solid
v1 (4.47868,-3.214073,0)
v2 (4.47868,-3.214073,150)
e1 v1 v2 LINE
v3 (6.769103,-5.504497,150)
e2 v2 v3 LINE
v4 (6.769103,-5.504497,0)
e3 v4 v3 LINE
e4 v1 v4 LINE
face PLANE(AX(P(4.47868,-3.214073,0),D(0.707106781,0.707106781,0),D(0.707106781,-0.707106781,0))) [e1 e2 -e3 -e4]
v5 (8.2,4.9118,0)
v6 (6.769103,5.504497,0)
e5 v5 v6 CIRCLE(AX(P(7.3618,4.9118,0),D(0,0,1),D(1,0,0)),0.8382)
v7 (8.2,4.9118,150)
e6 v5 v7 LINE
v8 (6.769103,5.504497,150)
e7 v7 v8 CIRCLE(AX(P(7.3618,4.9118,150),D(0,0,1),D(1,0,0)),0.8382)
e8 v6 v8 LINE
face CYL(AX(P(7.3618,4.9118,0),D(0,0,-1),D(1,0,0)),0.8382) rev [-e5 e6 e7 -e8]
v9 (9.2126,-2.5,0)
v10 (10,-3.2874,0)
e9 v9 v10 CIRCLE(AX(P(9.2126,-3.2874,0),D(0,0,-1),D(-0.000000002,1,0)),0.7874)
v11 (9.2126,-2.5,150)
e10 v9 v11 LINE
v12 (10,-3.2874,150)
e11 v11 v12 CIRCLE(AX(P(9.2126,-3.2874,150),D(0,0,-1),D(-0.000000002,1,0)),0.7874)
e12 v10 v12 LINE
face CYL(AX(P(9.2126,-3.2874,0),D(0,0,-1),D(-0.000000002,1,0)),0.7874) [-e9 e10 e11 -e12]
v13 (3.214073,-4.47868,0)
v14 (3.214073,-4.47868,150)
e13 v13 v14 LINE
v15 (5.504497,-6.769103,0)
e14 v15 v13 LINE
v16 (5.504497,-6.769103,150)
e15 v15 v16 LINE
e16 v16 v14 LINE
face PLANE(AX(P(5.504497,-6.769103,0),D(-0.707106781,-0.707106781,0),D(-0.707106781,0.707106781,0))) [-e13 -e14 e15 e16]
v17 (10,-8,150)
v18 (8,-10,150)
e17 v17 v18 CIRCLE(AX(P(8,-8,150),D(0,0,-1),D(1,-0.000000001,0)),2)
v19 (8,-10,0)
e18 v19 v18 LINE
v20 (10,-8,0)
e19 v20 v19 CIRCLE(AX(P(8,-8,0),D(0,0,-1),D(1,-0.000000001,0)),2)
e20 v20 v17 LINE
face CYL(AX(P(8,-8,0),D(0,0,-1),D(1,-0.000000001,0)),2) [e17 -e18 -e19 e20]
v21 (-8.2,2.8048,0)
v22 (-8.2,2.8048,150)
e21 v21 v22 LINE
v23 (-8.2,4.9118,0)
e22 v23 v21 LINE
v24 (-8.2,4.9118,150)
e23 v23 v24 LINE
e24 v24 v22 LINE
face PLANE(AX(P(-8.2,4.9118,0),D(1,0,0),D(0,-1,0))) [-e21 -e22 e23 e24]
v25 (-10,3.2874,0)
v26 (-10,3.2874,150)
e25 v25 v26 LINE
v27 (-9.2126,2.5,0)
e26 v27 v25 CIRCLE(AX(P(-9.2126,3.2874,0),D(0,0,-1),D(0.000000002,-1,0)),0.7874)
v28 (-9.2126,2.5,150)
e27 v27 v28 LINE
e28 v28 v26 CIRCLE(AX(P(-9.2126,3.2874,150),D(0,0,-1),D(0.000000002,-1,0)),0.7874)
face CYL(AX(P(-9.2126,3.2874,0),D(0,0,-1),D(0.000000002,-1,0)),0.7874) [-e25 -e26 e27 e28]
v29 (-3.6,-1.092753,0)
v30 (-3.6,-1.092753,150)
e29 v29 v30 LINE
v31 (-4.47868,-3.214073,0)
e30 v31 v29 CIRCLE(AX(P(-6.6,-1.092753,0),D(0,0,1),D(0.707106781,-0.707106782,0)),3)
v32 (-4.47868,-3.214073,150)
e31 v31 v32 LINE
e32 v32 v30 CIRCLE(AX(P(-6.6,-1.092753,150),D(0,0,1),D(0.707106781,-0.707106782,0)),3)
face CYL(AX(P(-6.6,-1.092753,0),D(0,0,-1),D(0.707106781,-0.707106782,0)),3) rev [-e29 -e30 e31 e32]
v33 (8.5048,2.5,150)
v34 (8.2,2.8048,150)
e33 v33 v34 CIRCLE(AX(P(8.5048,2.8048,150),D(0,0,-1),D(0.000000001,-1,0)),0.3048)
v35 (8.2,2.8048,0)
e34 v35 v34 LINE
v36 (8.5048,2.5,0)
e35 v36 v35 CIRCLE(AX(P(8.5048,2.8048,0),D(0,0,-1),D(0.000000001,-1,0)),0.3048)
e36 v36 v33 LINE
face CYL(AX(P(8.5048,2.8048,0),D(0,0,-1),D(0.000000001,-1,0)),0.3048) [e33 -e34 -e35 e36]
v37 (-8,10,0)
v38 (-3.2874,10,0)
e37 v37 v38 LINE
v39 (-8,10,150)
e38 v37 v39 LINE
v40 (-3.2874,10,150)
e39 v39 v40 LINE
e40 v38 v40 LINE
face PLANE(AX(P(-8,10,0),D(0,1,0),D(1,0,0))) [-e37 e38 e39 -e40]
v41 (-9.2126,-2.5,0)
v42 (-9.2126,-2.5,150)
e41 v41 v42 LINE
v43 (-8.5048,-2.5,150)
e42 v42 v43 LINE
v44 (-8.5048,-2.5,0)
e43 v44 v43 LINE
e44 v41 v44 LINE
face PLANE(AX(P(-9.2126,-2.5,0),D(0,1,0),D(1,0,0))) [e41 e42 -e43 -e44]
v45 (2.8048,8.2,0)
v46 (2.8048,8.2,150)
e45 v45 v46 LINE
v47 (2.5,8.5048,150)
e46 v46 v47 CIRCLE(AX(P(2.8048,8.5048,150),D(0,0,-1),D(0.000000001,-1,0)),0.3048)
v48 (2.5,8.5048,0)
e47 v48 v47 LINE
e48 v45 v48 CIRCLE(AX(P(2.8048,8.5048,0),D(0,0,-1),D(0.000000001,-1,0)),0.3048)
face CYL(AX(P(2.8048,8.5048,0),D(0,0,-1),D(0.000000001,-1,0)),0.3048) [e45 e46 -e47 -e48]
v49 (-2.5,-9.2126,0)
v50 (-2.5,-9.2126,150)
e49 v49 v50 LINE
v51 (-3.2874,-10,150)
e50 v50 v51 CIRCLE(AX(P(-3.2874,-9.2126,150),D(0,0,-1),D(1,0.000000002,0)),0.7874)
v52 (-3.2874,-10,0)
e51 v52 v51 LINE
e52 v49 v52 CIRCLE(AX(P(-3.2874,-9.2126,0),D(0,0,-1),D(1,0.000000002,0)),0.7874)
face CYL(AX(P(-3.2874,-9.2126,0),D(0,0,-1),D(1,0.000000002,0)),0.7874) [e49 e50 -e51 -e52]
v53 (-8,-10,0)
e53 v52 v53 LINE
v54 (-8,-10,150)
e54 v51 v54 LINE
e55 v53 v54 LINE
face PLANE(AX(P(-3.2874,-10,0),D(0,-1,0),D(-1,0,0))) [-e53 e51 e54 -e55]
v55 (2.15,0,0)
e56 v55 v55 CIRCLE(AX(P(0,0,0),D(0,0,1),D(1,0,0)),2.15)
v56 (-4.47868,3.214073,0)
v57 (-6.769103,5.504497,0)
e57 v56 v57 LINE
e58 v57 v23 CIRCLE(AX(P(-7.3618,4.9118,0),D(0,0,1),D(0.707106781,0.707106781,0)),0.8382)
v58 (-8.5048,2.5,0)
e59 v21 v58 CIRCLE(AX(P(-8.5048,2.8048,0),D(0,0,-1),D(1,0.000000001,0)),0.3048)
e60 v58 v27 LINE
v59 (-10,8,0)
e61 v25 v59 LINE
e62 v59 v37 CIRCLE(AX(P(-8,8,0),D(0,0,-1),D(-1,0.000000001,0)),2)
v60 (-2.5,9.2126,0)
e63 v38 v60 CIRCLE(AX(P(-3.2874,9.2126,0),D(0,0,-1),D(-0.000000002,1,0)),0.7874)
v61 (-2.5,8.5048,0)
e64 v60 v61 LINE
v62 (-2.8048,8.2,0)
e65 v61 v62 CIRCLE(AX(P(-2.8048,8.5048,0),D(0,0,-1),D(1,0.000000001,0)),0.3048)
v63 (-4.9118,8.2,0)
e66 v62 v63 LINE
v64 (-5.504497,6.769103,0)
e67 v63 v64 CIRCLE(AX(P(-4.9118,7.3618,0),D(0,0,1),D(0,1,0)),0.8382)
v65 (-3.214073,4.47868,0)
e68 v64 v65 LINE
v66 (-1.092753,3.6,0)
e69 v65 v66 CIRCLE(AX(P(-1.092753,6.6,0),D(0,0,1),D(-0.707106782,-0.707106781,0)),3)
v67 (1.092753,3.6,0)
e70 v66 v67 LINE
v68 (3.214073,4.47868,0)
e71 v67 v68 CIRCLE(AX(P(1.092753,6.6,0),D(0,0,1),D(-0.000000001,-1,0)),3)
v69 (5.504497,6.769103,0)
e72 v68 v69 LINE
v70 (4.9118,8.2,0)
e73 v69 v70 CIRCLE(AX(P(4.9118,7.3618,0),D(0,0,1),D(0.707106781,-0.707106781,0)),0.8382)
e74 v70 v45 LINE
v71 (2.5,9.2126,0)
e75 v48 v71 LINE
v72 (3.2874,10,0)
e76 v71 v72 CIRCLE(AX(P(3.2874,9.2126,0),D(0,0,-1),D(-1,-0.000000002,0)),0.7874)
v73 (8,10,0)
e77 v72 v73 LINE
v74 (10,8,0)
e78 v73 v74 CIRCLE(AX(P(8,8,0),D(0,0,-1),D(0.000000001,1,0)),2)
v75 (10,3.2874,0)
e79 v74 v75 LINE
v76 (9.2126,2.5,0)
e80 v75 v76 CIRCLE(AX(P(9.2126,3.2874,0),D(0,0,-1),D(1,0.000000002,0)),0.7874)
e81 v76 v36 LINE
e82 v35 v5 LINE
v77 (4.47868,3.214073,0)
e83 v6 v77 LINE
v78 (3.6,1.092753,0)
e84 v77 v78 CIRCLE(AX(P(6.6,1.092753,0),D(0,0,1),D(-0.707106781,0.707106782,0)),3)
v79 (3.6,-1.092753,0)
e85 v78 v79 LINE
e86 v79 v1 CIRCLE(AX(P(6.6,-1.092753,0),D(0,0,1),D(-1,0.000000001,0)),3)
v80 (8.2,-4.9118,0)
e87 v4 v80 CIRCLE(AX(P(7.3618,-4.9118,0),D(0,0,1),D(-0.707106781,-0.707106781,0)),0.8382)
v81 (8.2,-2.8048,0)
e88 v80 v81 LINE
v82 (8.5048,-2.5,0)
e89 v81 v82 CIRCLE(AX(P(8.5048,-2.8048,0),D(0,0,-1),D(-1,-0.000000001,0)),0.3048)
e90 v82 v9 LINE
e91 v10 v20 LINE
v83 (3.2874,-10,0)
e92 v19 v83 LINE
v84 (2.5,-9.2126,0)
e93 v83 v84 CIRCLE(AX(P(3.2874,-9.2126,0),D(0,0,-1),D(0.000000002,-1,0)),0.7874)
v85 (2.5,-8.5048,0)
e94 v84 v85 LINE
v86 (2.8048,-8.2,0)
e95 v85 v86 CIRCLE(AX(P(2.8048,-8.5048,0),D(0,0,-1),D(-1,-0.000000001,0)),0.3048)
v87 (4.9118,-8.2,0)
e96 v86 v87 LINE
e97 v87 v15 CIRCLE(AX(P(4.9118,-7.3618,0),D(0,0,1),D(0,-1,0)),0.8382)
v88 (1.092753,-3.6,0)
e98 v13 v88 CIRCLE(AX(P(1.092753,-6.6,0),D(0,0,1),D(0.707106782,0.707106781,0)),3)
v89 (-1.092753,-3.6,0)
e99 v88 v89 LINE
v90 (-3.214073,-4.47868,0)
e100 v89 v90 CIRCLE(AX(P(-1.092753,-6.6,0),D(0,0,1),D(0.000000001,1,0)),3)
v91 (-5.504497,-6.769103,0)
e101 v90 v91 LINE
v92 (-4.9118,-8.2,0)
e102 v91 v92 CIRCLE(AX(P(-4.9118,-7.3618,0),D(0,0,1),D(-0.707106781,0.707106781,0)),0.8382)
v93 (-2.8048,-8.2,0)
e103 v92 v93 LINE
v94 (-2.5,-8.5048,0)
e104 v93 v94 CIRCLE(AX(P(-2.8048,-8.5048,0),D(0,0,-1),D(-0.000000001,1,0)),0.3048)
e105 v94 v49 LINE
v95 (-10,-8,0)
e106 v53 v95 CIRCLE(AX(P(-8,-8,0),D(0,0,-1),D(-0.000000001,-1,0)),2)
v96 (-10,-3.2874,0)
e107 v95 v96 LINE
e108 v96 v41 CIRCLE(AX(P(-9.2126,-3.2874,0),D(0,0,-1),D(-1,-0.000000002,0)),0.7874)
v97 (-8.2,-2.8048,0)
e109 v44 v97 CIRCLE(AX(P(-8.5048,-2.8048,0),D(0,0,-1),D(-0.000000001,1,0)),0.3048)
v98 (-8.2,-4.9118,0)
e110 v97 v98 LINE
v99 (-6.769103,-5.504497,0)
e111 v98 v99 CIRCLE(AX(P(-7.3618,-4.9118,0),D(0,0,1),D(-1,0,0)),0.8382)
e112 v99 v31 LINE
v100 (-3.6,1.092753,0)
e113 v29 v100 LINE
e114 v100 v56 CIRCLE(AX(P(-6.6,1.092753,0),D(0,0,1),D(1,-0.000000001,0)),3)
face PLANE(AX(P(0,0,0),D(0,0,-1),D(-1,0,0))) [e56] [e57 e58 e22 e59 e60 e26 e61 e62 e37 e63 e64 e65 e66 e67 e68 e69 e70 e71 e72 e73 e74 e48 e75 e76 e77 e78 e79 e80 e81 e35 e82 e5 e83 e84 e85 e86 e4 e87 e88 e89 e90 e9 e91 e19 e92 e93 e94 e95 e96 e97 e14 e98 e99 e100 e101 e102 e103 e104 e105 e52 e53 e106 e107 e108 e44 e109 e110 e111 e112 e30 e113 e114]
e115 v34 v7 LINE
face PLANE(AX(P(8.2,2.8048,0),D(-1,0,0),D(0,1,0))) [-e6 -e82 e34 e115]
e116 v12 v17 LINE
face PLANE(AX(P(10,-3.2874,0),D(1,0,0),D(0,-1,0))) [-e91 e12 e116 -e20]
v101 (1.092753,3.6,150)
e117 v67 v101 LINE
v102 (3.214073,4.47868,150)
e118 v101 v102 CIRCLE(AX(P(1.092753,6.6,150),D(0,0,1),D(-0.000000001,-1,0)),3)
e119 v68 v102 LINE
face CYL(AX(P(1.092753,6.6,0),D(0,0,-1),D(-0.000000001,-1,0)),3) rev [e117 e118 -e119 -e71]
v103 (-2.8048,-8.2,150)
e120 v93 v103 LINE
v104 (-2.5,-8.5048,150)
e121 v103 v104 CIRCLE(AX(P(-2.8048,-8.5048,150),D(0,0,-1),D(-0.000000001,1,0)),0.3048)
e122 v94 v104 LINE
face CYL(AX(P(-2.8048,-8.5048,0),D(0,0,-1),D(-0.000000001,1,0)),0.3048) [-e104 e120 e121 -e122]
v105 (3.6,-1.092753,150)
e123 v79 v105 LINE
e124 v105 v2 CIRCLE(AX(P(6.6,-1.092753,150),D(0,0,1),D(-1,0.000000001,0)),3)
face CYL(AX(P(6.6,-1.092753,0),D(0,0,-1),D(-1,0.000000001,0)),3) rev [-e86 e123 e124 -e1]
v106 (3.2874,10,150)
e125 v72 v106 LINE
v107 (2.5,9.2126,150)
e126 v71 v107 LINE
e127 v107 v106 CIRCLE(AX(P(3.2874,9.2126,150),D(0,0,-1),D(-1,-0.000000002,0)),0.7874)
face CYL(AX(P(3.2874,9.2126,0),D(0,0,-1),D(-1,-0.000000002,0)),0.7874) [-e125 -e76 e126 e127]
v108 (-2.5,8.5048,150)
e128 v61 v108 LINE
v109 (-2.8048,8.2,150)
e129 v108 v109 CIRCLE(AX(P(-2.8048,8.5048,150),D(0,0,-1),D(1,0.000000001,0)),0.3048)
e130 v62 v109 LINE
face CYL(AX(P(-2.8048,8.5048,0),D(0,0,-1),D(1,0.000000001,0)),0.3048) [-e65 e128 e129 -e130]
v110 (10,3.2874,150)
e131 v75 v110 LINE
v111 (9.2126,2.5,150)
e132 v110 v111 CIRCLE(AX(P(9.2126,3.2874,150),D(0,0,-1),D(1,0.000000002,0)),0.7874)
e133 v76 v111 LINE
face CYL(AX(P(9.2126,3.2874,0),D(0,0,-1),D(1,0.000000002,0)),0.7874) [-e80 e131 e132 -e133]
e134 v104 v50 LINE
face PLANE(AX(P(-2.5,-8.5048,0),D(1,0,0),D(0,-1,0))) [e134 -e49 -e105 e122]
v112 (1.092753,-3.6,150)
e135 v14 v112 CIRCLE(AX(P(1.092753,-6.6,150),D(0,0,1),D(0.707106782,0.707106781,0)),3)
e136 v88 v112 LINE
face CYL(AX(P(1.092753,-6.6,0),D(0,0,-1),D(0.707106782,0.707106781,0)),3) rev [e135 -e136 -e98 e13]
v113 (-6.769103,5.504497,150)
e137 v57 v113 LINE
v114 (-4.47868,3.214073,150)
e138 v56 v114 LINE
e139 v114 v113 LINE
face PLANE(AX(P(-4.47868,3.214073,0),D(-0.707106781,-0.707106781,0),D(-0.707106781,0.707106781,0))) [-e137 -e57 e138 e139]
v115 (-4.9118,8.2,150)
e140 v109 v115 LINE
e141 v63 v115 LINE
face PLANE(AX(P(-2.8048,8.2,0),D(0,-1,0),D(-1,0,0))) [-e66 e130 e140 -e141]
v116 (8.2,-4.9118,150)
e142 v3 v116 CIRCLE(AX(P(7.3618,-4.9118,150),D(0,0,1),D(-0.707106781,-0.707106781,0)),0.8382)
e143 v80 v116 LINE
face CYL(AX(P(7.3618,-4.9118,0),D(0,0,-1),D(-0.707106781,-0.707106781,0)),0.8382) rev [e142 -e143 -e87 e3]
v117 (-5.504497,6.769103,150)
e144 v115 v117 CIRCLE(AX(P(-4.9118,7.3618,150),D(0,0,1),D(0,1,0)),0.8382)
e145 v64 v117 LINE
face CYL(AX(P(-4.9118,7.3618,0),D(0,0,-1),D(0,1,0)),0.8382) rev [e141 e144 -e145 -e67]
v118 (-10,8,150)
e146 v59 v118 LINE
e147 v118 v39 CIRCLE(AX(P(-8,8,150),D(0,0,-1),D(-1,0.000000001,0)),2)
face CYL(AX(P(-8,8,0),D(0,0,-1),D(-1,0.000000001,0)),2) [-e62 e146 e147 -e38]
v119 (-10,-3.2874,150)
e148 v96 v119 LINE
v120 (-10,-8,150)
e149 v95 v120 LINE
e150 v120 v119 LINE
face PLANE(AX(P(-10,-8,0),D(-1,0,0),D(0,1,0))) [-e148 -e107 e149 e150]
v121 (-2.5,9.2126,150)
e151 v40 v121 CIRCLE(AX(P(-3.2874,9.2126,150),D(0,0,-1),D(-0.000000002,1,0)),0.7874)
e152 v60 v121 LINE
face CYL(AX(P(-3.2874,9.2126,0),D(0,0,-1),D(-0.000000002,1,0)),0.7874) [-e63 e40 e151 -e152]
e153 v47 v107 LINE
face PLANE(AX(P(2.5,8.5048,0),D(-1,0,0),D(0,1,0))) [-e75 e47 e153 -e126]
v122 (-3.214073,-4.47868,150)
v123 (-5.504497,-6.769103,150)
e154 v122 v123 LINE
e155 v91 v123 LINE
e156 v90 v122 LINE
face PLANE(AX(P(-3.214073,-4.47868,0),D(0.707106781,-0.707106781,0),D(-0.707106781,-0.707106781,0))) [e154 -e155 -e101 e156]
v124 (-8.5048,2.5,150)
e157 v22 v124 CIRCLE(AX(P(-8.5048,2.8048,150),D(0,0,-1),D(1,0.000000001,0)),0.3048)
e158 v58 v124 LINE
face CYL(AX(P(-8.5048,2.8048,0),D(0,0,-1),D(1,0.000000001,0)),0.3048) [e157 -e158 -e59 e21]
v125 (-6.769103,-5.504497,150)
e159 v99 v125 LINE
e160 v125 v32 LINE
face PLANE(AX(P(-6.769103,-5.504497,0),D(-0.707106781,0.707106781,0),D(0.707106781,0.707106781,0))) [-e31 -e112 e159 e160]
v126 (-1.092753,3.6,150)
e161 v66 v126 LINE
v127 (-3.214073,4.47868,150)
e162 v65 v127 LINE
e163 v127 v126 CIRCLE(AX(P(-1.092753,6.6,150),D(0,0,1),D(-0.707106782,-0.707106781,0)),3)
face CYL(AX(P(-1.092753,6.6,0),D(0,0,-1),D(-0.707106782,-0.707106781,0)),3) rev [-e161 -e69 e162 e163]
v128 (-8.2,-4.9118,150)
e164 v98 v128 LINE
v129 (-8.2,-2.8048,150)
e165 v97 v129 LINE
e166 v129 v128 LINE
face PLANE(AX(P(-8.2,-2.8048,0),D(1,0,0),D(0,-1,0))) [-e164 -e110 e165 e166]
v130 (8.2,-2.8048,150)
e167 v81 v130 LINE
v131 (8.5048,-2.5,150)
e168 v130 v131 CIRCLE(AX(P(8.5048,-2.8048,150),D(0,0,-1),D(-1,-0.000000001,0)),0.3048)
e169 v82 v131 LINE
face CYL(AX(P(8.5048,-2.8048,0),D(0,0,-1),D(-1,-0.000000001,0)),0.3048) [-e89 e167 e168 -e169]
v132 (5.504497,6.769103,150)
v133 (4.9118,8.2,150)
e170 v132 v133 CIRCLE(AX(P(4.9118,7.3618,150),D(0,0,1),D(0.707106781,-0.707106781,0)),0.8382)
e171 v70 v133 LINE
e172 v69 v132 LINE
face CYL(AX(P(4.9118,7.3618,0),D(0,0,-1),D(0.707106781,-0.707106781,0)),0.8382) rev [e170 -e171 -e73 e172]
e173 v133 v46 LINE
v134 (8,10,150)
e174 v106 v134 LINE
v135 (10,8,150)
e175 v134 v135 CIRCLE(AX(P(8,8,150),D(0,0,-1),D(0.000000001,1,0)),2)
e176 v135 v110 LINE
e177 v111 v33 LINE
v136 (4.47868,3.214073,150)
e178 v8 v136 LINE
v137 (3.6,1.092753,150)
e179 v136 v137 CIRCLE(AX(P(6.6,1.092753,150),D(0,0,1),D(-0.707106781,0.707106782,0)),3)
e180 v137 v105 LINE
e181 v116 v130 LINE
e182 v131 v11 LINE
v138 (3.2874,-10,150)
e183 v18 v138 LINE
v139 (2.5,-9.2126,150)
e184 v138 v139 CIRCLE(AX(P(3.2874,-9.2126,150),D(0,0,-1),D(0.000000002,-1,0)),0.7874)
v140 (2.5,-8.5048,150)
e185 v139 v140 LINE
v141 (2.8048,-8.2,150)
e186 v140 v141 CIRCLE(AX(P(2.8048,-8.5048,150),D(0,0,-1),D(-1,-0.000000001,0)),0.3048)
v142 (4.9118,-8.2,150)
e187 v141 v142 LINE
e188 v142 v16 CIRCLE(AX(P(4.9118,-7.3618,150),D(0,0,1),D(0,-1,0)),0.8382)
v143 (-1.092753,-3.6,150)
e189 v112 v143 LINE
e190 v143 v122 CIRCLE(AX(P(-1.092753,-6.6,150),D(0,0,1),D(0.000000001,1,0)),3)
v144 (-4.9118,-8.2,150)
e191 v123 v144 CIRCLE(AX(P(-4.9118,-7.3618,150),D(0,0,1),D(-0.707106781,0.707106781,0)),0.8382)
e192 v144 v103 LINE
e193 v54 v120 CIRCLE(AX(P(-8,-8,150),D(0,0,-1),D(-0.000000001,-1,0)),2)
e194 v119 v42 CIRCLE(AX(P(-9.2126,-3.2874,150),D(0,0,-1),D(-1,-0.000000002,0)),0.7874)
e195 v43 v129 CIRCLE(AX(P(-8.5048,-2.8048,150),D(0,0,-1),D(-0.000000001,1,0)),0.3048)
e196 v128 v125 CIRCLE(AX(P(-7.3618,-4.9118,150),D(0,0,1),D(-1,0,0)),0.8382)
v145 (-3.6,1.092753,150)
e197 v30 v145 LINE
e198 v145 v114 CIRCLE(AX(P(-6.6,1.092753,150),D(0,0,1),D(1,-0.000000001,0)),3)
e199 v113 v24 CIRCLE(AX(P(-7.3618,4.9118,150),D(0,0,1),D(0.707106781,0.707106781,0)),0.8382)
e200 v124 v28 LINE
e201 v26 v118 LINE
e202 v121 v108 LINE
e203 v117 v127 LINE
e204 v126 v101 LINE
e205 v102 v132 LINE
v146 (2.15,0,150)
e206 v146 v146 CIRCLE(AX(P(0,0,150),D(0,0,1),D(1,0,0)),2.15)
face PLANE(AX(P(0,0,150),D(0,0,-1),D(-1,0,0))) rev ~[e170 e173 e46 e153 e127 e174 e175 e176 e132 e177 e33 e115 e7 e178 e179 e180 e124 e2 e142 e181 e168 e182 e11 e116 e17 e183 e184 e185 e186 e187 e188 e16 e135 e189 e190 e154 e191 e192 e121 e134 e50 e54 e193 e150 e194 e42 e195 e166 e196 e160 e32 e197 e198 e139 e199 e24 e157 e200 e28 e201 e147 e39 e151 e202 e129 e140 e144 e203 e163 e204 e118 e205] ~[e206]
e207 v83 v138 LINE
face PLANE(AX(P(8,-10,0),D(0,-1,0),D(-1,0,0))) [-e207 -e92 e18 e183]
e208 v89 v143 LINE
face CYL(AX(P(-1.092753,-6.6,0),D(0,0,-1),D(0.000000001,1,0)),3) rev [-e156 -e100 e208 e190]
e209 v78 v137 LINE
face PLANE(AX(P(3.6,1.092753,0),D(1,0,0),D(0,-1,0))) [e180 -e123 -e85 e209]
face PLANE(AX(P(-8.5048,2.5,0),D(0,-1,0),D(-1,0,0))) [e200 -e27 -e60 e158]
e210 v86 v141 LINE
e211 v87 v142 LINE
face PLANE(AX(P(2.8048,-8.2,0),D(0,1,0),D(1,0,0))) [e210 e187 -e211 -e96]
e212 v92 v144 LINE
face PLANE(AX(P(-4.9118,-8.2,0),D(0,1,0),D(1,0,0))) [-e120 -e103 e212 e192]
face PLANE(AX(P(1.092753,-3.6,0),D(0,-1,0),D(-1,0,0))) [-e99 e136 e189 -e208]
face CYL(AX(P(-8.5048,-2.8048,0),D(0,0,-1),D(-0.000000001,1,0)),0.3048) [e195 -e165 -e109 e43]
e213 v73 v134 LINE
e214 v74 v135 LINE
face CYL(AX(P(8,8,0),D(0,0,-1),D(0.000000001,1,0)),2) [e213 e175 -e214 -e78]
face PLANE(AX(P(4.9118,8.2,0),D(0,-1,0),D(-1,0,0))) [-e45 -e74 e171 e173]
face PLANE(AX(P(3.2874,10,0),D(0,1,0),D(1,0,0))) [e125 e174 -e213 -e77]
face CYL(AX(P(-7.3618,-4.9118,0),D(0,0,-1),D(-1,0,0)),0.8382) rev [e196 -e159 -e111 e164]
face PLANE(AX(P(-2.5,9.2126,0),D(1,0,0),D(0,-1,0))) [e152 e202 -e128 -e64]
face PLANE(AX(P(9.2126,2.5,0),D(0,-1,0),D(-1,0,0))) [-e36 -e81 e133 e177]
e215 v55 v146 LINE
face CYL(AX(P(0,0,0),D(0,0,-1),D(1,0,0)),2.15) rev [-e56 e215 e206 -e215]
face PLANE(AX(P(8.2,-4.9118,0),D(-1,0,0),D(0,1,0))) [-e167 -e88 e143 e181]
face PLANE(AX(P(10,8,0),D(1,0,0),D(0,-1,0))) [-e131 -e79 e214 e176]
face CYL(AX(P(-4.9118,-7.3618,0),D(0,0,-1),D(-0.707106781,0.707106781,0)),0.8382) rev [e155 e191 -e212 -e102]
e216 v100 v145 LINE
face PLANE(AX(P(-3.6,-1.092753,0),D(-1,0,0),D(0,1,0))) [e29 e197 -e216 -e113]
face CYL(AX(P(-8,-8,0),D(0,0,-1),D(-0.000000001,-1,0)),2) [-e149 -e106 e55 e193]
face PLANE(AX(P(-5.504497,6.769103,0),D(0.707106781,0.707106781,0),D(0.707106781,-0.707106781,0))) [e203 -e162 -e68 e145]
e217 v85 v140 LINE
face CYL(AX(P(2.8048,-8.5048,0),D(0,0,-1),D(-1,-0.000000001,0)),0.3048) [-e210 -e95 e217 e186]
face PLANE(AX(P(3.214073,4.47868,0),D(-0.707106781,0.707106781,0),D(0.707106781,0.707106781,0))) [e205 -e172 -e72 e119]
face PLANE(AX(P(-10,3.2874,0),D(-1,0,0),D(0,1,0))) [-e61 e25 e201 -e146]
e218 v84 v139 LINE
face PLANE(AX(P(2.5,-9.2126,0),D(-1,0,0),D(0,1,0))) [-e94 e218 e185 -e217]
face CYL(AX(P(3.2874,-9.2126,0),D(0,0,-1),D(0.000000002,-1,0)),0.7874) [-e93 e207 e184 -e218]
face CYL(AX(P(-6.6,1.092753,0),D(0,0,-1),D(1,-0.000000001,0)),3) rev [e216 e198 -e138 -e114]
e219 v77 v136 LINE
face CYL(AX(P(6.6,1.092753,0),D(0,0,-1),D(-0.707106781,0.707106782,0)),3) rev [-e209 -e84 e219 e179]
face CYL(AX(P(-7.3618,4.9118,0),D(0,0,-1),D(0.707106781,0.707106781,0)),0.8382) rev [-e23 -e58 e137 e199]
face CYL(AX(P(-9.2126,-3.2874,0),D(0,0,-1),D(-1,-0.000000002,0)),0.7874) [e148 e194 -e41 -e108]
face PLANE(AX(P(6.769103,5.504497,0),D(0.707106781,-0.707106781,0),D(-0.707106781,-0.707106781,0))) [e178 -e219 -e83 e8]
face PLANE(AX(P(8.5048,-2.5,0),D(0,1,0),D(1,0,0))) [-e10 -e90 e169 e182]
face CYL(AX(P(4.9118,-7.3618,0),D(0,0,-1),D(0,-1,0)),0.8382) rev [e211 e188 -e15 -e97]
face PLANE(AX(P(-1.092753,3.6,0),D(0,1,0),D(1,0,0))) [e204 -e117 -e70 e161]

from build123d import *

# Parameters (mm, degrees)
SKETCH3_R           = 2.15
BOSS_EXTRUDE1_DEPTH = 150


with BuildPart() as part:
    # Sketch3 → Boss-Extrude1 (new body)
    with BuildSketch(Plane.XY):
        with BuildLine():
            Line((3.2874, 10), (8, 10))
            ThreePointArc((8, 10), (9.414213562, 9.414213562), (10, 8))
            Line((10, 8), (10, 3.2874))
            ThreePointArc((10, 3.2874), (9.76937588, 2.73062412), (9.2126, 2.5))
            Line((9.2126, 2.5), (8.5048, 2.5))
            ThreePointArc((8.5048, 2.5), (8.289273853, 2.589273853), (8.2, 2.8048))
            Line((8.2, 2.8048), (8.2, 4.9118))
            ThreePointArc((8.2, 4.9118), (7.682565253, 5.686195824), (6.769103096, 5.504496904))
            Line((6.769103096, 5.504496904), (4.478679656, 3.214073464))
            ThreePointArc((4.478679656, 3.214073464), (3.828361402, 2.240803418), (3.6, 1.092753121))
            Line((3.6, 1.092753121), (3.6, -1.092753121))
            ThreePointArc((3.6, -1.092753121), (3.828361402, -2.240803418), (4.478679656, -3.214073464))
            Line((4.478679656, -3.214073464), (6.769103096, -5.504496904))
            ThreePointArc((6.769103096, -5.504496904), (7.682565253, -5.686195824), (8.2, -4.9118))
            Line((8.2, -4.9118), (8.2, -2.8048))
            ThreePointArc((8.2, -2.8048), (8.289273853, -2.589273853), (8.5048, -2.5))
            Line((8.5048, -2.5), (9.2126, -2.5))
            ThreePointArc((9.2126, -2.5), (9.76937588, -2.73062412), (10, -3.2874))
            Line((10, -3.2874), (10, -8))
            ThreePointArc((10, -8), (9.414213562, -9.414213562), (8, -10))
            Line((8, -10), (3.2874, -10))
            ThreePointArc((3.2874, -10), (2.73062412, -9.76937588), (2.5, -9.2126))
            Line((2.5, -9.2126), (2.5, -8.5048))
            ThreePointArc((2.5, -8.5048), (2.589273853, -8.289273853), (2.8048, -8.2))
            Line((2.8048, -8.2), (4.9118, -8.2))
            ThreePointArc((4.9118, -8.2), (5.686195824, -7.682565253), (5.504496904, -6.769103096))
            Line((5.504496904, -6.769103096), (3.214073464, -4.478679656))
            ThreePointArc((3.214073464, -4.478679656), (2.240803418, -3.828361402), (1.092753121, -3.6))
            Line((1.092753121, -3.6), (-1.092753121, -3.6))
            ThreePointArc((-1.092753121, -3.6), (-2.240803418, -3.828361402), (-3.214073464, -4.478679656))
            Line((-3.214073464, -4.478679656), (-5.504496904, -6.769103096))
            ThreePointArc((-5.504496904, -6.769103096), (-5.686195824, -7.682565253), (-4.9118, -8.2))
            Line((-4.9118, -8.2), (-2.8048, -8.2))
            ThreePointArc((-2.8048, -8.2), (-2.589273853, -8.289273853), (-2.5, -8.5048))
            Line((-2.5, -8.5048), (-2.5, -9.2126))
            ThreePointArc((-2.5, -9.2126), (-2.73062412, -9.76937588), (-3.2874, -10))
            Line((-3.2874, -10), (-8, -10))
            ThreePointArc((-8, -10), (-9.414213562, -9.414213562), (-10, -8))
            Line((-10, -8), (-10, -3.2874))
            ThreePointArc((-10, -3.2874), (-9.76937588, -2.73062412), (-9.2126, -2.5))
            Line((-9.2126, -2.5), (-8.5048, -2.5))
            ThreePointArc((-8.5048, -2.5), (-8.289273853, -2.589273853), (-8.2, -2.8048))
            Line((-8.2, -2.8048), (-8.2, -4.9118))
            ThreePointArc((-8.2, -4.9118), (-7.682565253, -5.686195824), (-6.769103096, -5.504496904))
            Line((-6.769103096, -5.504496904), (-4.478679656, -3.214073464))
            ThreePointArc((-4.478679656, -3.214073464), (-3.828361402, -2.240803418), (-3.6, -1.092753121))
            Line((-3.6, -1.092753121), (-3.6, 1.092753121))
            ThreePointArc((-3.6, 1.092753121), (-3.828361402, 2.240803418), (-4.478679656, 3.214073464))
            Line((-4.478679656, 3.214073464), (-6.769103096, 5.504496904))
            ThreePointArc((-6.769103096, 5.504496904), (-7.682565253, 5.686195824), (-8.2, 4.9118))
            Line((-8.2, 4.9118), (-8.2, 2.8048))
            ThreePointArc((-8.2, 2.8048), (-8.289273853, 2.589273853), (-8.5048, 2.5))
            Line((-8.5048, 2.5), (-9.2126, 2.5))
            ThreePointArc((-9.2126, 2.5), (-9.76937588, 2.73062412), (-10, 3.2874))
            Line((-10, 3.2874), (-10, 8))
            ThreePointArc((-10, 8), (-9.414213562, 9.414213562), (-8, 10))
            Line((-8, 10), (-3.2874, 10))
            ThreePointArc((-3.2874, 10), (-2.73062412, 9.76937588), (-2.5, 9.2126))
            Line((-2.5, 9.2126), (-2.5, 8.5048))
            ThreePointArc((-2.5, 8.5048), (-2.589273853, 8.289273853), (-2.8048, 8.2))
            Line((-2.8048, 8.2), (-4.9118, 8.2))
            ThreePointArc((-4.9118, 8.2), (-5.686195824, 7.682565253), (-5.504496904, 6.769103096))
            Line((-5.504496904, 6.769103096), (-3.214073464, 4.478679656))
            ThreePointArc((-3.214073464, 4.478679656), (-2.240803418, 3.828361402), (-1.092753121, 3.6))
            Line((-1.092753121, 3.6), (1.092753121, 3.6))
            ThreePointArc((1.092753121, 3.6), (2.240803418, 3.828361402), (3.214073464, 4.478679656))
            Line((3.214073464, 4.478679656), (5.504496904, 6.769103096))
            ThreePointArc((5.504496904, 6.769103096), (5.686195824, 7.682565253), (4.9118, 8.2))
            Line((4.9118, 8.2), (2.8048, 8.2))
            ThreePointArc((2.8048, 8.2), (2.589273853, 8.289273853), (2.5, 8.5048))
            Line((2.5, 8.5048), (2.5, 9.2126))
            ThreePointArc((2.5, 9.2126), (2.73062412, 9.76937588), (3.2874, 10))
        make_face()
        Circle(SKETCH3_R, mode=Mode.SUBTRACT)
    extrude(amount=BOSS_EXTRUDE1_DEPTH)


solid = part.part
